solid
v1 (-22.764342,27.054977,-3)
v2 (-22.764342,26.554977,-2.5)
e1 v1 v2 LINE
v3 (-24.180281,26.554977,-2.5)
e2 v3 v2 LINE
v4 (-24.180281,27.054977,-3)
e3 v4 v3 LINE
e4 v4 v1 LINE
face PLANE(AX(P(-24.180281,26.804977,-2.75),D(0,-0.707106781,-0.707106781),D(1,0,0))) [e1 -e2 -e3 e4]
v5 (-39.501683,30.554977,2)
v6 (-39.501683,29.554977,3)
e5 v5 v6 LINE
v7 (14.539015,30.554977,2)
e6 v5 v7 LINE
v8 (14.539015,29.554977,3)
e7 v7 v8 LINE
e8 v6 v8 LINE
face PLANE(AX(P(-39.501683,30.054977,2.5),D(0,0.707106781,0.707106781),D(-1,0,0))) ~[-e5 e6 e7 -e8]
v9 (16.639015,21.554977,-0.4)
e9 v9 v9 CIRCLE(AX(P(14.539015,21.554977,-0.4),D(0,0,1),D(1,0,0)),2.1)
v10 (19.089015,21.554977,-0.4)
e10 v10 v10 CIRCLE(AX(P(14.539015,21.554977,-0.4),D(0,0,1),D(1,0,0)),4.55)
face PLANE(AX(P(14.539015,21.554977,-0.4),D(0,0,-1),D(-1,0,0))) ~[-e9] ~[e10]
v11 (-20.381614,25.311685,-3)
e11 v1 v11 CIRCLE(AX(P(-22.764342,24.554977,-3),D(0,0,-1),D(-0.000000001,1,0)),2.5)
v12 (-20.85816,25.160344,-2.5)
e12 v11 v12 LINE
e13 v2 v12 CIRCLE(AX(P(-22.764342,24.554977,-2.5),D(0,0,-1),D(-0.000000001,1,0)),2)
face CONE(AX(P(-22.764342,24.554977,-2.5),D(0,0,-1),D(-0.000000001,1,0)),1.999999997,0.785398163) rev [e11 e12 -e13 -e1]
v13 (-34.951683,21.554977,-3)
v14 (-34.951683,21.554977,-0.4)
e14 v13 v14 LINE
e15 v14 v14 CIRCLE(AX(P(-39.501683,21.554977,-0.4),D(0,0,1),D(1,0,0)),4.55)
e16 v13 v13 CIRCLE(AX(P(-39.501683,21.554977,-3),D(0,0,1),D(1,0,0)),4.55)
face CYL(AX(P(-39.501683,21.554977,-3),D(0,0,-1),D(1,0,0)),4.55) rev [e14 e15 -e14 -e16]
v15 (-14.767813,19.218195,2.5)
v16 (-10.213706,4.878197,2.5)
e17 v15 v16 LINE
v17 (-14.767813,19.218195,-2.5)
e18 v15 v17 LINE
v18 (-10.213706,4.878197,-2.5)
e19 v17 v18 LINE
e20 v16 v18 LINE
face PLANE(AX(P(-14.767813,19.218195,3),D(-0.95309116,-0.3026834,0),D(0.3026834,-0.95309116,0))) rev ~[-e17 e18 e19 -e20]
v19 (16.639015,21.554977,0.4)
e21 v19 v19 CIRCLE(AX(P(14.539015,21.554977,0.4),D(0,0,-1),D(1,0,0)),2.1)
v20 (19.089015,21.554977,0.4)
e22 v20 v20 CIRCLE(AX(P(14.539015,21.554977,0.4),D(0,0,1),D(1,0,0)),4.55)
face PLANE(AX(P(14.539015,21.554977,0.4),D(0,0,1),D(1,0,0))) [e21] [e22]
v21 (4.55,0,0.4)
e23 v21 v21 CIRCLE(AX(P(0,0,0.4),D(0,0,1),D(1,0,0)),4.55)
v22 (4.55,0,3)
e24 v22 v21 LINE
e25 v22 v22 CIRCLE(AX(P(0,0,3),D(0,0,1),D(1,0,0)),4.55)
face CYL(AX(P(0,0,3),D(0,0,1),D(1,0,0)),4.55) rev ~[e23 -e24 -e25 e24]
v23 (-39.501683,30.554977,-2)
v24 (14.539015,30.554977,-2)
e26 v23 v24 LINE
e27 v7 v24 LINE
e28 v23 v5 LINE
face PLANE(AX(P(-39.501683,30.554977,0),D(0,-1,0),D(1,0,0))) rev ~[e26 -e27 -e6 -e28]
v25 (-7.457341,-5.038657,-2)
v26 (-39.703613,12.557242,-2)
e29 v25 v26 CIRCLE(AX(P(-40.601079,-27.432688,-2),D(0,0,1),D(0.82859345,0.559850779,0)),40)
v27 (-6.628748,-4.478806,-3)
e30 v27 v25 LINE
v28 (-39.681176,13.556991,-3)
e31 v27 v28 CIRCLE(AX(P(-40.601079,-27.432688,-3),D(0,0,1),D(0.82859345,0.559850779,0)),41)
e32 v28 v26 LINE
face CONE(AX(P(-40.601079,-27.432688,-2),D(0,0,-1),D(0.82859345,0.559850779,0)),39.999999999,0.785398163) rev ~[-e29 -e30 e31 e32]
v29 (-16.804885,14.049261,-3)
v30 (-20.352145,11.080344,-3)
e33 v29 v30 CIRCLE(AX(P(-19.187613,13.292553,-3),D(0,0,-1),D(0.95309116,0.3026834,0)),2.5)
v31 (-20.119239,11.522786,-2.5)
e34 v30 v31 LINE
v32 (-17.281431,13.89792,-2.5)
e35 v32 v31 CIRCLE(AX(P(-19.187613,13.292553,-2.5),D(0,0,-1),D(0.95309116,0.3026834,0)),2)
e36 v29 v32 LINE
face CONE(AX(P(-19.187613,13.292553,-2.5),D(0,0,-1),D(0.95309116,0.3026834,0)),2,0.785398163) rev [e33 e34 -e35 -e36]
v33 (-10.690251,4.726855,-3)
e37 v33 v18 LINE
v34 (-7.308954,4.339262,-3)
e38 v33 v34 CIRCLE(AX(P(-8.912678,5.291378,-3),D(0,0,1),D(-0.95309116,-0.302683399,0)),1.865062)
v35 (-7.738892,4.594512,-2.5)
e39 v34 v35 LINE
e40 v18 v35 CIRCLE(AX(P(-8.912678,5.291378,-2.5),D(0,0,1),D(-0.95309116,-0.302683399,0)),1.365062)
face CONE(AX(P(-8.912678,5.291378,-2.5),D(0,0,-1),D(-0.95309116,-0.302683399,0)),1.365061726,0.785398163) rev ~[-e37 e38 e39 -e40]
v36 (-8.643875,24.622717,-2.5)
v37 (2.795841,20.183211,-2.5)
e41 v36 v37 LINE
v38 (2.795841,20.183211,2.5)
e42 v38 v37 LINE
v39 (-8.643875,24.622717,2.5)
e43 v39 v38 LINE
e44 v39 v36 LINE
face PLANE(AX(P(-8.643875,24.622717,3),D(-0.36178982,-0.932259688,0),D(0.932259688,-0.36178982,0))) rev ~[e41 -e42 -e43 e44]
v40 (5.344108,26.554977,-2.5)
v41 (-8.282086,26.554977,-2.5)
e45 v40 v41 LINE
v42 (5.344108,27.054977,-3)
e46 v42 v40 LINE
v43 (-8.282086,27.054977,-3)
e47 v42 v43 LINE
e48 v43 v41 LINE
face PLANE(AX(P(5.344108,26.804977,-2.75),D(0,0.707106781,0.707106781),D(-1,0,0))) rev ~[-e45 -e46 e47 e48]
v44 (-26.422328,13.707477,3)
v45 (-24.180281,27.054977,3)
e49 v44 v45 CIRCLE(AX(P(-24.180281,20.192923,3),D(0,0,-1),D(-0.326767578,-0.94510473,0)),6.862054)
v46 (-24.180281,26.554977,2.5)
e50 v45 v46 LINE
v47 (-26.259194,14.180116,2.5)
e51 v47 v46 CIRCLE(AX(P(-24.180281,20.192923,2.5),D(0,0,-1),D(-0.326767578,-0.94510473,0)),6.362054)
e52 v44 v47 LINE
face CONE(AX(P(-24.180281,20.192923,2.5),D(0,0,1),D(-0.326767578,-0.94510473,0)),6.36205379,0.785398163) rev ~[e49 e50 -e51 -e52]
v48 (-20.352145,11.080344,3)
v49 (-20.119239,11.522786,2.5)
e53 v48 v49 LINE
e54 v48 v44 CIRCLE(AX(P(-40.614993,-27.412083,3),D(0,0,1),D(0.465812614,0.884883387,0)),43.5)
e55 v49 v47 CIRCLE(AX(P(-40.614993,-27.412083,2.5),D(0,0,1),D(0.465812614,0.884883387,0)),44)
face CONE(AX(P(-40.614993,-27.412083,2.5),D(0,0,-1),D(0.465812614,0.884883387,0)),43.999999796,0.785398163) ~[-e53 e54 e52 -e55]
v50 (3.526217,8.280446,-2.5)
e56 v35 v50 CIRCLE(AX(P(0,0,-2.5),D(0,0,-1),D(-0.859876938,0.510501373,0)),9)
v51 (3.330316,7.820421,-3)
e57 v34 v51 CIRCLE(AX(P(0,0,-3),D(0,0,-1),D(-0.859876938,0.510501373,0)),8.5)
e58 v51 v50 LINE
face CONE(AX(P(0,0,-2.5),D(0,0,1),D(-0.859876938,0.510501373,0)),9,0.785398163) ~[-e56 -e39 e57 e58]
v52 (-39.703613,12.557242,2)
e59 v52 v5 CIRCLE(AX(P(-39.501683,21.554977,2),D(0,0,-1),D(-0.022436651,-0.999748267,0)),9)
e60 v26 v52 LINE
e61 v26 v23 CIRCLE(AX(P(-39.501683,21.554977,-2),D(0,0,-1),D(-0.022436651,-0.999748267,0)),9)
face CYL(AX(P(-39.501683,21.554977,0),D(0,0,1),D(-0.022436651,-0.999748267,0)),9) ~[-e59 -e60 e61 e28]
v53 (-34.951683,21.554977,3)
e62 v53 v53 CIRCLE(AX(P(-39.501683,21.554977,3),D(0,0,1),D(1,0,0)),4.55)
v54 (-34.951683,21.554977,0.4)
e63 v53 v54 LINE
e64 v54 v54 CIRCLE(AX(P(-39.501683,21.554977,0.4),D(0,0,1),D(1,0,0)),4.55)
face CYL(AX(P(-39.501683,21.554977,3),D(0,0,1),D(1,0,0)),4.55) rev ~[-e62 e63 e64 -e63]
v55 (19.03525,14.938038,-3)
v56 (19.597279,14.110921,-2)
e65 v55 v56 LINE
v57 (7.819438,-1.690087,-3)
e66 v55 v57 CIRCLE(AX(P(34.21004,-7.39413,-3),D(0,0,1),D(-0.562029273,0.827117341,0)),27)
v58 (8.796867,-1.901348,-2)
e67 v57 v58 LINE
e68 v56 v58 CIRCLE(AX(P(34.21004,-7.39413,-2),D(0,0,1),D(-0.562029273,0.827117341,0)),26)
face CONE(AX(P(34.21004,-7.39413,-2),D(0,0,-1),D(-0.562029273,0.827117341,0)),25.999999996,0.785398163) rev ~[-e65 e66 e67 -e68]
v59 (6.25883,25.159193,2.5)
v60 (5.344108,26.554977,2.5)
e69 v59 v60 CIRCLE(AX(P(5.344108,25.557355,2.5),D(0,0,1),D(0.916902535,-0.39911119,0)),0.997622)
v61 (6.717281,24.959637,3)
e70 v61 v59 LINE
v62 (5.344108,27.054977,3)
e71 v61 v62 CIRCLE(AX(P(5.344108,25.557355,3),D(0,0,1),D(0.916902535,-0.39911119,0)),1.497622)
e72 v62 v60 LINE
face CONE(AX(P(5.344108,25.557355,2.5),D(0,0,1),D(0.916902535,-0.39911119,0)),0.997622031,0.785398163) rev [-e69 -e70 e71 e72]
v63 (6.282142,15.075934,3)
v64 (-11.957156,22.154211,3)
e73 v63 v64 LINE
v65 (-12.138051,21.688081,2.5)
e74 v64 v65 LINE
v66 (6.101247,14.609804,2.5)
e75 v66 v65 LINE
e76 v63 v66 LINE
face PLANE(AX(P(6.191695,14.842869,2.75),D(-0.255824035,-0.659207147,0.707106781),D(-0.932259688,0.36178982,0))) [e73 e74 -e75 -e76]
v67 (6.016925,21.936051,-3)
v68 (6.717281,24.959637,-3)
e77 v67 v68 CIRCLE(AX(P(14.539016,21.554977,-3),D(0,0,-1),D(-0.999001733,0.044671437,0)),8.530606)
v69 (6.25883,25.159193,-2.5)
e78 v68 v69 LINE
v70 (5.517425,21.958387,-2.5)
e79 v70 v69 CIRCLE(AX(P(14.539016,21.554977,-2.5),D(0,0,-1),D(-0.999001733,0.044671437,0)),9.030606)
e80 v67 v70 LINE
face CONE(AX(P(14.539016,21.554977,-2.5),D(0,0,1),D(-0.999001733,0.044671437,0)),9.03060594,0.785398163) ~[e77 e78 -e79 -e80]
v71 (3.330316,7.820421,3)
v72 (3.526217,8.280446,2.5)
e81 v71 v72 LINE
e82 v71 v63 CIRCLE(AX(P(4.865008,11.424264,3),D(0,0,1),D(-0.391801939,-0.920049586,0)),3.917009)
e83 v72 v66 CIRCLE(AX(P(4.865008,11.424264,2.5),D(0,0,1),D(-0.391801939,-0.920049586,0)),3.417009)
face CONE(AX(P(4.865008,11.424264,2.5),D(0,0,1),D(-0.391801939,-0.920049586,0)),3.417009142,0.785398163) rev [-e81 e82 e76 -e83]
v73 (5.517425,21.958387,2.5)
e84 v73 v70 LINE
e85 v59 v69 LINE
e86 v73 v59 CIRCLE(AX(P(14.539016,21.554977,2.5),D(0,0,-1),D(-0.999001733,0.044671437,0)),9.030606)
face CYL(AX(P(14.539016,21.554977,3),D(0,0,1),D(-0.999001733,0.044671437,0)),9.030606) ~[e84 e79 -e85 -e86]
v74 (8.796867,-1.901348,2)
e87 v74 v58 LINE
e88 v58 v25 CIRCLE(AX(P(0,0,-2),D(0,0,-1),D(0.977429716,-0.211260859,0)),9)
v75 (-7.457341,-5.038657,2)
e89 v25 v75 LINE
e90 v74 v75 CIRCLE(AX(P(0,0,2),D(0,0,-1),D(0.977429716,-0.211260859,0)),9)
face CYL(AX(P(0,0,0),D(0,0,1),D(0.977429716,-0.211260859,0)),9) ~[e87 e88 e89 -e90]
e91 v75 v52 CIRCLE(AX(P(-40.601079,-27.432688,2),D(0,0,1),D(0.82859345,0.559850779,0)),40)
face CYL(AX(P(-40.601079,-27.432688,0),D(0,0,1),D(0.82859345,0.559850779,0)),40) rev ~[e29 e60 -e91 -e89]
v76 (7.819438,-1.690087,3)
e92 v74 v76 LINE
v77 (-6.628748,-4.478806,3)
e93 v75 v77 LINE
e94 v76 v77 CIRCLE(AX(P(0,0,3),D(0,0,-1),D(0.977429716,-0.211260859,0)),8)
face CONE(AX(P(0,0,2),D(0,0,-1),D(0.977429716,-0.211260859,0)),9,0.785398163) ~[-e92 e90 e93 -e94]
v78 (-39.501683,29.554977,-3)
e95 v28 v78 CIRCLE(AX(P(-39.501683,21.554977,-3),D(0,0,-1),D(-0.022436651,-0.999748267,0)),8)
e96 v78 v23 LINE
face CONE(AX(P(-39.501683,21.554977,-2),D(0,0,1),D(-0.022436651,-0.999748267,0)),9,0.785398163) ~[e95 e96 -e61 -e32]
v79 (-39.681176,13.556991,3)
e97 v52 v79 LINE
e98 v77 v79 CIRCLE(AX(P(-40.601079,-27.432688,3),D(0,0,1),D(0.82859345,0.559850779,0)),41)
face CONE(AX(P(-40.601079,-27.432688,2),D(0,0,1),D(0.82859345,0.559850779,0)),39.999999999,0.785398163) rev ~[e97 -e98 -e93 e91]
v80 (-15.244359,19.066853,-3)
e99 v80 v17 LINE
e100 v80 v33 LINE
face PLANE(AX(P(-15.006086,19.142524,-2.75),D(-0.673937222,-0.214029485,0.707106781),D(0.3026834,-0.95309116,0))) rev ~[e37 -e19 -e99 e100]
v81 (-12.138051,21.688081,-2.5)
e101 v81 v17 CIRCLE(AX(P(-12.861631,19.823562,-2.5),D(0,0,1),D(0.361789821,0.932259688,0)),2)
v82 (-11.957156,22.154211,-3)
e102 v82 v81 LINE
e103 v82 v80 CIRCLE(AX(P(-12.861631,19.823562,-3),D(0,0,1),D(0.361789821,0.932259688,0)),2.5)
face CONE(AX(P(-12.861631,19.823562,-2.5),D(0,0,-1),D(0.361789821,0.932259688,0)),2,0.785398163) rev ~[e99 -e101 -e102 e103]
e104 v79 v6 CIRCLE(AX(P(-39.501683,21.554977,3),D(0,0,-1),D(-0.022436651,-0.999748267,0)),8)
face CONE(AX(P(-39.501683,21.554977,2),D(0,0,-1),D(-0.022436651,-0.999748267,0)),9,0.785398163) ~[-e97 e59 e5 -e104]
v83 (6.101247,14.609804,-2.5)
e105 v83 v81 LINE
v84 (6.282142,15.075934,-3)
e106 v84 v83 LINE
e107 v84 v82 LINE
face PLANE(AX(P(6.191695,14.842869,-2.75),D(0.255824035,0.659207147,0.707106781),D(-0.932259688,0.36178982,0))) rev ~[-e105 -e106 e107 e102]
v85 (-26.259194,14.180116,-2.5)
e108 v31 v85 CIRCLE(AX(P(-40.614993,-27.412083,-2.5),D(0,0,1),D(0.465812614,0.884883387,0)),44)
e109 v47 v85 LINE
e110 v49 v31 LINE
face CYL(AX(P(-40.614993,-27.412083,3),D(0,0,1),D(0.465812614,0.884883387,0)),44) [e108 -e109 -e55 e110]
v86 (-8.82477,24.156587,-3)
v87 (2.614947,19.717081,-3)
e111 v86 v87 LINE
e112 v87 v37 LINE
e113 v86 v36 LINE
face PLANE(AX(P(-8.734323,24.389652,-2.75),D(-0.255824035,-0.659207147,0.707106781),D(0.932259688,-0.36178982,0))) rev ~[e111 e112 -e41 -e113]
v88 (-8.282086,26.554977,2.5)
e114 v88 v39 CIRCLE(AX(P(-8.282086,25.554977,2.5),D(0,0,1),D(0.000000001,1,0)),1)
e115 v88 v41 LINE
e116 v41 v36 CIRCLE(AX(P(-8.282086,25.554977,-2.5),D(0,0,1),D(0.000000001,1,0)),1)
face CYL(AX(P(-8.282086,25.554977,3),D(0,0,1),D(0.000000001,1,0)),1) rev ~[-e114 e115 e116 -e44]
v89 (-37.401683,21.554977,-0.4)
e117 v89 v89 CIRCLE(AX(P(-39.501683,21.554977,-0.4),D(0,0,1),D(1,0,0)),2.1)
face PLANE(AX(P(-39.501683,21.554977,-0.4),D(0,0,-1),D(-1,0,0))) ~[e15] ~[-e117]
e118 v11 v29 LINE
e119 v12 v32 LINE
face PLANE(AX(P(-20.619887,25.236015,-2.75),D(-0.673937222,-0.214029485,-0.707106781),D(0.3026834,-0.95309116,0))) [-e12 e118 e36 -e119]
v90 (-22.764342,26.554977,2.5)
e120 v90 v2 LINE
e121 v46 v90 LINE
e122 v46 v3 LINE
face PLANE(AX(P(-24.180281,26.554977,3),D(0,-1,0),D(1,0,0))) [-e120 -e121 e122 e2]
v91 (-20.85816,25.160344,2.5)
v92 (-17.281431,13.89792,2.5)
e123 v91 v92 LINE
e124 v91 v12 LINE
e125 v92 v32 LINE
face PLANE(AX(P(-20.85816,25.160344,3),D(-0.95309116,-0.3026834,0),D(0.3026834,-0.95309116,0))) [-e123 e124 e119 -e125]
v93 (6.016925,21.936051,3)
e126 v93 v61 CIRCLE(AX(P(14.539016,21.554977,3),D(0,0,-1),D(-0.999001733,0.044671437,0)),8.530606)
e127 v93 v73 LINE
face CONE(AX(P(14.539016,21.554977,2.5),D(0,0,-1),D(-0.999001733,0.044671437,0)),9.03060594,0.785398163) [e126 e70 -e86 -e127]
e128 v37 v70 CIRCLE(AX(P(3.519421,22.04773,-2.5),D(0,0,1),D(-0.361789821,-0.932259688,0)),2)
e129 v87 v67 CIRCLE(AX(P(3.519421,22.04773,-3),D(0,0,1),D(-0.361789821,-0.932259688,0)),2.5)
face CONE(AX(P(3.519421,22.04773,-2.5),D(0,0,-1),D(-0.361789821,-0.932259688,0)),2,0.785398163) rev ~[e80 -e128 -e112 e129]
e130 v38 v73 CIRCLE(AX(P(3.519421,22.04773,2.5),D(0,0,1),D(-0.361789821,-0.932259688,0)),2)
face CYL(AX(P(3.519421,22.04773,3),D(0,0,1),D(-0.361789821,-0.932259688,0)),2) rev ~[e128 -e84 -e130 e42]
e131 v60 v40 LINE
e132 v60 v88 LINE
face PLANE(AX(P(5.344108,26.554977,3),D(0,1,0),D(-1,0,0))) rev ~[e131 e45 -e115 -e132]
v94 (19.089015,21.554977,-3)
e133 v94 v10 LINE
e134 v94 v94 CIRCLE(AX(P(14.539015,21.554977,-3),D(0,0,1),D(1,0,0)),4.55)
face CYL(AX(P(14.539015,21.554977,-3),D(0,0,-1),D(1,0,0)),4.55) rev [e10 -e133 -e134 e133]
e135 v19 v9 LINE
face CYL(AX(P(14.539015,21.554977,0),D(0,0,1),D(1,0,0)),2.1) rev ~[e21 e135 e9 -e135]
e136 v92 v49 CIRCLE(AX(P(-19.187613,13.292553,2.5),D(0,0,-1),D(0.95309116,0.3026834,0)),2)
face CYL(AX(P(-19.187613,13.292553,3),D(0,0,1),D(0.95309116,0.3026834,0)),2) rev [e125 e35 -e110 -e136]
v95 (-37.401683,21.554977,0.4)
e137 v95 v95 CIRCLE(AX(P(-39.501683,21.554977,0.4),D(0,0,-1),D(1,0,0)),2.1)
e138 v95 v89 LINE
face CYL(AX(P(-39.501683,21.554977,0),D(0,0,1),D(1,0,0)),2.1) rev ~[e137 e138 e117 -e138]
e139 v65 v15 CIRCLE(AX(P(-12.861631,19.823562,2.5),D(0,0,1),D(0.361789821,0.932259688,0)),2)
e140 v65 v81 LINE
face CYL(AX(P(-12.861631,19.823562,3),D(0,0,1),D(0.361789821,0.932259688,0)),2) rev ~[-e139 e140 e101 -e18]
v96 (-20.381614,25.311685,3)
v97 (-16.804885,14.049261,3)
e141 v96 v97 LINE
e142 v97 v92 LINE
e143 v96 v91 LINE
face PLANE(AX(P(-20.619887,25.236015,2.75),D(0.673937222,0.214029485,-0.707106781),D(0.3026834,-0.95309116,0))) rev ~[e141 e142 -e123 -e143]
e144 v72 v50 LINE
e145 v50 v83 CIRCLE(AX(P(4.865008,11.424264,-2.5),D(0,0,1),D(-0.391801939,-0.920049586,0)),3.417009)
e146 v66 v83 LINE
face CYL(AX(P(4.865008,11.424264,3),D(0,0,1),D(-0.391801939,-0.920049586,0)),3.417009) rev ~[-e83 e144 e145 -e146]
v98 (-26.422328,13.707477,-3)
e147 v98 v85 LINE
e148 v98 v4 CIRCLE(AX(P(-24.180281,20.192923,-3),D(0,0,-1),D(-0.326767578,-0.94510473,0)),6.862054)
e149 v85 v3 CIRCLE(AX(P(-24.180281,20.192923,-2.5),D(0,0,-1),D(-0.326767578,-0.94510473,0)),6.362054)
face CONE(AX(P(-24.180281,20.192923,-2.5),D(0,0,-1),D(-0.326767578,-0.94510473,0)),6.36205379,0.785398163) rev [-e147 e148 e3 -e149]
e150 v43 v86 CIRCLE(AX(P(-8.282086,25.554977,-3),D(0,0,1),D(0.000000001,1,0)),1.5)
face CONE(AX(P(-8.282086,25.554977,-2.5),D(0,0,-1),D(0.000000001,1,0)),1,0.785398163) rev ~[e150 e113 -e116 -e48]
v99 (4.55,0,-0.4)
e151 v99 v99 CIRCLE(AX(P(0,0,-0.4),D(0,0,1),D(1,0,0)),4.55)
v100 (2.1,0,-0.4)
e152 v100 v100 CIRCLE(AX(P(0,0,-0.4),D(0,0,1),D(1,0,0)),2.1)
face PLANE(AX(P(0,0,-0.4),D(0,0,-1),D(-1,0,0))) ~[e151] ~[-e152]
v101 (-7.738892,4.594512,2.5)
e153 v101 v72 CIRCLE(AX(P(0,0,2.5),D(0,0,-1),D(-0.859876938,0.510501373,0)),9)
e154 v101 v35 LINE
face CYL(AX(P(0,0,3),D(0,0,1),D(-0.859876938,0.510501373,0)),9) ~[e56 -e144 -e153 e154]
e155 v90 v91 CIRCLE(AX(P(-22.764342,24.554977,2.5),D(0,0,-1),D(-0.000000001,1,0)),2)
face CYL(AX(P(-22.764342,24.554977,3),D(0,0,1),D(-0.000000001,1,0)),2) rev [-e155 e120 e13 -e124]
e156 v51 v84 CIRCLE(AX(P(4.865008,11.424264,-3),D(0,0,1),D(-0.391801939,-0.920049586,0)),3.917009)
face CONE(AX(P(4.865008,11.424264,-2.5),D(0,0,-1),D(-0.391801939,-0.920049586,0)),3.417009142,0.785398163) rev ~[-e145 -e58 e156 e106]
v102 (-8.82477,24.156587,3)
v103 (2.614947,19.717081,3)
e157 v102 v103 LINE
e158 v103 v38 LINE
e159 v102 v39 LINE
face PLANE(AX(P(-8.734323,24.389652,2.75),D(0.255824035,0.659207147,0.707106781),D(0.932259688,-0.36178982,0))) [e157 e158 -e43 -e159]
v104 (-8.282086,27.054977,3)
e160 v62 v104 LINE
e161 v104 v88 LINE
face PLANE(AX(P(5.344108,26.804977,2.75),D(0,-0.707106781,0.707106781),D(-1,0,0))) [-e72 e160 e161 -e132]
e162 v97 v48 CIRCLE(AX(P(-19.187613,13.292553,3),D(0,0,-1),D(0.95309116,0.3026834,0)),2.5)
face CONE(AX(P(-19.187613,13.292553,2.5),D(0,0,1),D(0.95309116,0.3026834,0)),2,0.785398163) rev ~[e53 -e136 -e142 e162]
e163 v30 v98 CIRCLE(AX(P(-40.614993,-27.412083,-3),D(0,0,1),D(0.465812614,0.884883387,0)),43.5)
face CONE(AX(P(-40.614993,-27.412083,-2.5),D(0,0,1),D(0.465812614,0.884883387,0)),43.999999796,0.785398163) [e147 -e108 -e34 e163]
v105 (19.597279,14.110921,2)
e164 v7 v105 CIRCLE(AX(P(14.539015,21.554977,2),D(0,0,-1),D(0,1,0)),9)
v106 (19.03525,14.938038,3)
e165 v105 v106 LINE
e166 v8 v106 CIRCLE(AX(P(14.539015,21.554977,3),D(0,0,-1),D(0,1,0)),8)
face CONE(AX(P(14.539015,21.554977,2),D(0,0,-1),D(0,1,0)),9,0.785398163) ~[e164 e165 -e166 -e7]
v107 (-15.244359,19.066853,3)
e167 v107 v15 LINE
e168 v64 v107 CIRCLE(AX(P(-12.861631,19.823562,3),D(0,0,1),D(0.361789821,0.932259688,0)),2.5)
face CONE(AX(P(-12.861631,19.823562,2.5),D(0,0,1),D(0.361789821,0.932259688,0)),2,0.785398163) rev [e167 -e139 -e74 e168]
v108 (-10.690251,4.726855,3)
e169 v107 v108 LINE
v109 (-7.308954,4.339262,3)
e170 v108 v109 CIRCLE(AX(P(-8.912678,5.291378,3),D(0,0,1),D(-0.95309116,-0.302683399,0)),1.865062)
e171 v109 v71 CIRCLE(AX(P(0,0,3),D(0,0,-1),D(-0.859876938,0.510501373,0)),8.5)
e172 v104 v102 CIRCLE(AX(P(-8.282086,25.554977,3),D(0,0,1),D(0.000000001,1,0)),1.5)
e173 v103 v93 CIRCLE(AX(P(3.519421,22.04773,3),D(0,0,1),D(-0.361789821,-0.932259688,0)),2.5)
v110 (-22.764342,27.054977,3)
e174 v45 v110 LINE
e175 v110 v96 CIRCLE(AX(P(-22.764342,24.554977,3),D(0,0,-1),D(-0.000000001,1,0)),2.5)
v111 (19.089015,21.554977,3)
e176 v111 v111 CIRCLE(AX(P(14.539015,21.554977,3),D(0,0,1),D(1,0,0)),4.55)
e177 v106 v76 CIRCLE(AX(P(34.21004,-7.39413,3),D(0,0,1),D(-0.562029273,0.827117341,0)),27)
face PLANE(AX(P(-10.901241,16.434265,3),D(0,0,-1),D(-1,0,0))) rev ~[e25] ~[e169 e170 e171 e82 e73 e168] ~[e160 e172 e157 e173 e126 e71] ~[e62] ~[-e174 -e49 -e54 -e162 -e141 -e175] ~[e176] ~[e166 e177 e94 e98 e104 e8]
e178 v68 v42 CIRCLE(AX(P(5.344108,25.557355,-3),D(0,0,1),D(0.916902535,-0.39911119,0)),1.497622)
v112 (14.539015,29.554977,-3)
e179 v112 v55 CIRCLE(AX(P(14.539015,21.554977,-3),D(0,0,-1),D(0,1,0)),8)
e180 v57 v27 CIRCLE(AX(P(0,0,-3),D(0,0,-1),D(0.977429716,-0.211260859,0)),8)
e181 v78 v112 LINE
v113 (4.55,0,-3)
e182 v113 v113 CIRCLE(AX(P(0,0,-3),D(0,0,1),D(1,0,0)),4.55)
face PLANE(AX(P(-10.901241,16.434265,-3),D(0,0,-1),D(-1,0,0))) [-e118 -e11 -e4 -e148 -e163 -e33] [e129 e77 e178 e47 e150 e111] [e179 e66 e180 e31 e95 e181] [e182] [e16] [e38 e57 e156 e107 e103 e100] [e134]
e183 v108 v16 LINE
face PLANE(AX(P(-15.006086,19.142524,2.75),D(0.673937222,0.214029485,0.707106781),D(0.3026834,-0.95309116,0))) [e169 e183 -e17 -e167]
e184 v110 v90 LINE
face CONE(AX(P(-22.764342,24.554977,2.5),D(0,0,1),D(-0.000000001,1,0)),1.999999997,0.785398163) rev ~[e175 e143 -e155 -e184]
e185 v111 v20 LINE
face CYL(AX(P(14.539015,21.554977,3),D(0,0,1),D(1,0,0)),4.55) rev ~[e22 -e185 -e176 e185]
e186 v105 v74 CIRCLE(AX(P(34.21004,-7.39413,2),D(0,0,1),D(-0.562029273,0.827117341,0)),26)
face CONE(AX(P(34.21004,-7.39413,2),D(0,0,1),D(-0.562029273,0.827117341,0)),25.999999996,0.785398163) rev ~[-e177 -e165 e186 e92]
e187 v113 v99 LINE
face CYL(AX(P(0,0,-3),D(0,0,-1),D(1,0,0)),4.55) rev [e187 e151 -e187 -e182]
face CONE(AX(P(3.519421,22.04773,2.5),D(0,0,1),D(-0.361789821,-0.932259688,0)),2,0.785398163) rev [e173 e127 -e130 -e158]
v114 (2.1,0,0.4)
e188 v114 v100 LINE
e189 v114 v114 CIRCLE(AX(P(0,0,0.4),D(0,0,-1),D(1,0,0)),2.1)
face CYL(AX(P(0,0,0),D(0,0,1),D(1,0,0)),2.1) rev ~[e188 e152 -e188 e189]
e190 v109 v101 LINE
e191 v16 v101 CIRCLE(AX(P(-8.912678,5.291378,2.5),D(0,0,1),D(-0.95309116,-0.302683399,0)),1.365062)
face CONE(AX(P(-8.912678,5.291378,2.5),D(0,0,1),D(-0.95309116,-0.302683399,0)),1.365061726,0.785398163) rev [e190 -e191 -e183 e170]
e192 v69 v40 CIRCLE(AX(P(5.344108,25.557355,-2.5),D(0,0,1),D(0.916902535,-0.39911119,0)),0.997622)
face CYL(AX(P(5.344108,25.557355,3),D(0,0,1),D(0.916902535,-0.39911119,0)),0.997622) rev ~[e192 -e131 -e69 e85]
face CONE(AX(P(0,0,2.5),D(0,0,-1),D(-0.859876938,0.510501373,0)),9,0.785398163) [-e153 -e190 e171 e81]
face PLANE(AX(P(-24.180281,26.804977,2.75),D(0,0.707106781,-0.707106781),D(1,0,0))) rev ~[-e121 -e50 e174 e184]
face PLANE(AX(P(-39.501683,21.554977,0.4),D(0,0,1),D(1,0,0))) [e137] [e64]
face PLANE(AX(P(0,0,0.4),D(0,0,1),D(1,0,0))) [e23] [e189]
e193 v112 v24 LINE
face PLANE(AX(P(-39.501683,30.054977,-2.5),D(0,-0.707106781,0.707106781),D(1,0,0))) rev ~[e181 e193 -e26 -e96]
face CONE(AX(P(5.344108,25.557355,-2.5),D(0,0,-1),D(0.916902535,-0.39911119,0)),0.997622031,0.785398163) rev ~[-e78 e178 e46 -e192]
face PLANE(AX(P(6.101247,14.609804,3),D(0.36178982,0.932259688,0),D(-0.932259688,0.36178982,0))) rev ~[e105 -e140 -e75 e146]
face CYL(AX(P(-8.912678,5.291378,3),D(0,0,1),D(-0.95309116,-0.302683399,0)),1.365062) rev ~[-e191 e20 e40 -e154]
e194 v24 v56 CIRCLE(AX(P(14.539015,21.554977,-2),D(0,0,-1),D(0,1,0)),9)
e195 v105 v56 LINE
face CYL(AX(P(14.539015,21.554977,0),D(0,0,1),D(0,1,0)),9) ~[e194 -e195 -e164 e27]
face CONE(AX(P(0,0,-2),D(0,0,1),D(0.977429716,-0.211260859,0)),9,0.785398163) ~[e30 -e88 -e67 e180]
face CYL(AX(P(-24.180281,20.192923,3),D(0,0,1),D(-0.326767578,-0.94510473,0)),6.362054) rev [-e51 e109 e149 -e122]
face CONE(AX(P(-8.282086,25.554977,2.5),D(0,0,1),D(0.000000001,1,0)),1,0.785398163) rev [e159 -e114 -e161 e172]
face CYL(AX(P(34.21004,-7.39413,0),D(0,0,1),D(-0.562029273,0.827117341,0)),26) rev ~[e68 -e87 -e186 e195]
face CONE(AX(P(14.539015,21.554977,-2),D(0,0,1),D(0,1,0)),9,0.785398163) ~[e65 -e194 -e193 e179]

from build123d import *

# Parameters (mm, degrees)
BOSS_EXTRUDE1_DEPTH      = 3
BOSS_EXTRUDE1_DEPTH_BACK = 3
SKETCH1_R                = 2.1
SKETCH2_R                = 4.55
CUT_EXTRUDE1_DEPTH       = 2.6
CHAMFER1_SIZE            = 1
CUT_EXTRUDE2_DEPTH       = 58.636966268
CHAMFER2_SIZE            = 0.5


with BuildPart() as part:
    # Sketch1 → Boss-Extrude1 (new, two sides: drawn at the far end of the back side and taken through both)
    with BuildSketch(Plane.XY.offset(-BOSS_EXTRUDE1_DEPTH_BACK)):
        with BuildLine():
            Line((-39.501683147, 30.554976886), (14.53901549, 30.554976886))
            ThreePointArc((14.53901549, 30.554976886), (23.141239174, 24.201058459), (19.597278951, 14.110920817))
            ThreePointArc((19.597278951, 14.110920817), (12.655063172, 7.14488544), (8.796867444, -1.901347727))
            ThreePointArc((8.796867444, -1.901347727), (1.705655337, -8.836896507), (-7.457341048, -5.038657013))
            ThreePointArc((-7.457341048, -5.038657013), (-21.441099585, 7.679919061), (-39.703613005, 12.557242486))
            ThreePointArc((-39.703613005, 12.557242486), (-48.501116729, 21.65594817), (-39.501683147, 30.554976886))
        make_face()
        Circle(SKETCH1_R, mode=Mode.SUBTRACT)
        with Locations((-39.501683147, 21.554976886)):
            Circle(SKETCH1_R, mode=Mode.SUBTRACT)
        with Locations((14.53901549, 21.554976886)):
            Circle(SKETCH1_R, mode=Mode.SUBTRACT)
    extrude(amount=BOSS_EXTRUDE1_DEPTH + BOSS_EXTRUDE1_DEPTH_BACK)

    # Sketch2 → Cut-Extrude1 (cut)
    with BuildSketch(Plane.XY.offset(3)):
        with Locations((-39.501683147, 21.554976886)):
            Circle(SKETCH2_R)
        with Locations((14.53901549, 21.554976886)):
            Circle(SKETCH2_R)
        Circle(SKETCH2_R)
    cut_extrude1 = extrude(amount=-CUT_EXTRUDE1_DEPTH, mode=Mode.SUBTRACT)

    # Mirror1: Cut-Extrude1 across plane
    add(cut_extrude1.mirror(Plane.XY), mode=Mode.SUBTRACT)

    # Chamfer1
    chamfer1_edges = [part.edges().sort_by_distance(p)[0] for p in [
        (1.705655337, -8.836896507, -3),
        (12.655063172, 7.14488544, -3),
        (-21.441099585, 7.679919061, -3),
        (23.141239174, 24.201058459, -3),
        (-48.501116729, 21.65594817, -3),
        (-12.481333828, 30.554976886, -3),
        (1.705655337, -8.836896507, 3),
        (12.655063172, 7.14488544, 3),
        (-21.441099585, 7.679919061, 3),
        (23.141239174, 24.201058459, 3),
        (-48.501116729, 21.65594817, 3),
        (-12.481333828, 30.554976886, 3),
    ]]
    chamfer(chamfer1_edges, length=CHAMFER1_SIZE)

    # Sketch3 → Cut-Extrude2 (cut, through all)
    with BuildSketch(Plane.XY.offset(3)):
        with BuildLine():
            Line((-24.180281108, 26.554976886), (-22.764342389, 26.554976886))
            ThreePointArc((-22.764342389, 26.554976886), (-21.583396496, 26.169091752), (-20.858160069, 25.160343686))
            Line((-20.858160069, 25.160343686), (-17.281431039, 13.89791957))
            ThreePointArc((-17.281431039, 13.89791957), (-17.903964164, 11.758849819), (-20.119238586, 11.522785996))
            ThreePointArc((-20.119238586, 11.522785996), (-23.13863628, 12.96831982), (-26.259194014, 14.180115968))
            ThreePointArc((-26.259194014, 14.180115968), (-30.454415742, 21.246945404), (-24.180281108, 26.554976886))
        make_face()
        with BuildLine():
            Line((-8.643875433, 24.622717198), (2.795841433, 20.183210519))
            ThreePointArc((2.795841433, 20.183210519), (4.612056387, 20.372573761), (5.51742454, 21.958387022))
            ThreePointArc((5.51742454, 21.958387022), (5.741336481, 23.592791168), (6.25883004, 25.159192739))
            ThreePointArc((6.25883004, 25.159192739), (6.178513352, 26.104179516), (5.344107869, 26.554976886))
            Line((5.344107869, 26.554976886), (-8.282085612, 26.554976886))
            ThreePointArc((-8.282085612, 26.554976886), (-9.265004655, 25.73901535), (-8.643875433, 24.622717198))
        make_face()
        with BuildLine():
            Line((-14.767813151, 19.218195089), (-10.2137058, 4.878196721))
            ThreePointArc((-10.2137058, 4.878196721), (-9.068134637, 3.935197355), (-7.738892439, 4.594512359))
            ThreePointArc((-7.738892439, 4.594512359), (-2.798782744, 8.553760293), (3.526217449, 8.280446274))
            ThreePointArc((3.526217449, 8.280446274), (8.030102489, 10.136580166), (6.10124738, 14.609803998))
            Line((6.10124738, 14.609803998), (-12.138051189, 21.688081264))
            ThreePointArc((-12.138051189, 21.688081264), (-14.230835601, 21.281395314), (-14.767813151, 19.218195089))
        make_face()
    extrude(amount=-CUT_EXTRUDE2_DEPTH, mode=Mode.SUBTRACT)

    # Chamfer2
    chamfer2_edges = [part.edges().sort_by_distance(p)[0] for p in [
        (6.178513352, 26.104179516, -3),
        (-1.468988872, 26.554976886, -3),
        (5.741336481, 23.592791168, -3),
        (-9.265004655, 25.73901535, -3),
        (4.612056387, 20.372573761, -3),
        (-2.924017, 22.402963859, -3),
        (6.178513352, 26.104179516, 3),
        (-1.468988872, 26.554976886, 3),
        (5.741336481, 23.592791168, 3),
        (-9.265004655, 25.73901535, 3),
        (4.612056387, 20.372573761, 3),
        (-2.924017, 22.402963859, 3),
        (-30.454415742, 21.246945404, -3),
        (-23.13863628, 12.96831982, -3),
        (-23.472311748, 26.554976886, -3),
        (-17.903964164, 11.758849819, -3),
        (-21.583396496, 26.169091752, -3),
        (-19.069795554, 19.529131628, -3),
        (-30.454415742, 21.246945404, 3),
        (-23.13863628, 12.96831982, 3),
        (-23.472311748, 26.554976886, 3),
        (-17.903964164, 11.758849819, 3),
        (-21.583396496, 26.169091752, 3),
        (-19.069795554, 19.529131628, 3),
        (-14.230835601, 21.281395314, -3),
        (-12.490759475, 12.048195905, -3),
        (-3.018401905, 18.148942631, -3),
        (-9.068134637, 3.935197355, -3),
        (8.030102489, 10.136580166, -3),
        (-2.798782744, 8.553760293, -3),
        (-14.230835601, 21.281395314, 3),
        (-12.490759475, 12.048195905, 3),
        (-3.018401905, 18.148942631, 3),
        (-9.068134637, 3.935197355, 3),
        (8.030102489, 10.136580166, 3),
        (-2.798782744, 8.553760293, 3),
    ]]
    chamfer(chamfer2_edges, length=CHAMFER2_SIZE)


solid = part.part
